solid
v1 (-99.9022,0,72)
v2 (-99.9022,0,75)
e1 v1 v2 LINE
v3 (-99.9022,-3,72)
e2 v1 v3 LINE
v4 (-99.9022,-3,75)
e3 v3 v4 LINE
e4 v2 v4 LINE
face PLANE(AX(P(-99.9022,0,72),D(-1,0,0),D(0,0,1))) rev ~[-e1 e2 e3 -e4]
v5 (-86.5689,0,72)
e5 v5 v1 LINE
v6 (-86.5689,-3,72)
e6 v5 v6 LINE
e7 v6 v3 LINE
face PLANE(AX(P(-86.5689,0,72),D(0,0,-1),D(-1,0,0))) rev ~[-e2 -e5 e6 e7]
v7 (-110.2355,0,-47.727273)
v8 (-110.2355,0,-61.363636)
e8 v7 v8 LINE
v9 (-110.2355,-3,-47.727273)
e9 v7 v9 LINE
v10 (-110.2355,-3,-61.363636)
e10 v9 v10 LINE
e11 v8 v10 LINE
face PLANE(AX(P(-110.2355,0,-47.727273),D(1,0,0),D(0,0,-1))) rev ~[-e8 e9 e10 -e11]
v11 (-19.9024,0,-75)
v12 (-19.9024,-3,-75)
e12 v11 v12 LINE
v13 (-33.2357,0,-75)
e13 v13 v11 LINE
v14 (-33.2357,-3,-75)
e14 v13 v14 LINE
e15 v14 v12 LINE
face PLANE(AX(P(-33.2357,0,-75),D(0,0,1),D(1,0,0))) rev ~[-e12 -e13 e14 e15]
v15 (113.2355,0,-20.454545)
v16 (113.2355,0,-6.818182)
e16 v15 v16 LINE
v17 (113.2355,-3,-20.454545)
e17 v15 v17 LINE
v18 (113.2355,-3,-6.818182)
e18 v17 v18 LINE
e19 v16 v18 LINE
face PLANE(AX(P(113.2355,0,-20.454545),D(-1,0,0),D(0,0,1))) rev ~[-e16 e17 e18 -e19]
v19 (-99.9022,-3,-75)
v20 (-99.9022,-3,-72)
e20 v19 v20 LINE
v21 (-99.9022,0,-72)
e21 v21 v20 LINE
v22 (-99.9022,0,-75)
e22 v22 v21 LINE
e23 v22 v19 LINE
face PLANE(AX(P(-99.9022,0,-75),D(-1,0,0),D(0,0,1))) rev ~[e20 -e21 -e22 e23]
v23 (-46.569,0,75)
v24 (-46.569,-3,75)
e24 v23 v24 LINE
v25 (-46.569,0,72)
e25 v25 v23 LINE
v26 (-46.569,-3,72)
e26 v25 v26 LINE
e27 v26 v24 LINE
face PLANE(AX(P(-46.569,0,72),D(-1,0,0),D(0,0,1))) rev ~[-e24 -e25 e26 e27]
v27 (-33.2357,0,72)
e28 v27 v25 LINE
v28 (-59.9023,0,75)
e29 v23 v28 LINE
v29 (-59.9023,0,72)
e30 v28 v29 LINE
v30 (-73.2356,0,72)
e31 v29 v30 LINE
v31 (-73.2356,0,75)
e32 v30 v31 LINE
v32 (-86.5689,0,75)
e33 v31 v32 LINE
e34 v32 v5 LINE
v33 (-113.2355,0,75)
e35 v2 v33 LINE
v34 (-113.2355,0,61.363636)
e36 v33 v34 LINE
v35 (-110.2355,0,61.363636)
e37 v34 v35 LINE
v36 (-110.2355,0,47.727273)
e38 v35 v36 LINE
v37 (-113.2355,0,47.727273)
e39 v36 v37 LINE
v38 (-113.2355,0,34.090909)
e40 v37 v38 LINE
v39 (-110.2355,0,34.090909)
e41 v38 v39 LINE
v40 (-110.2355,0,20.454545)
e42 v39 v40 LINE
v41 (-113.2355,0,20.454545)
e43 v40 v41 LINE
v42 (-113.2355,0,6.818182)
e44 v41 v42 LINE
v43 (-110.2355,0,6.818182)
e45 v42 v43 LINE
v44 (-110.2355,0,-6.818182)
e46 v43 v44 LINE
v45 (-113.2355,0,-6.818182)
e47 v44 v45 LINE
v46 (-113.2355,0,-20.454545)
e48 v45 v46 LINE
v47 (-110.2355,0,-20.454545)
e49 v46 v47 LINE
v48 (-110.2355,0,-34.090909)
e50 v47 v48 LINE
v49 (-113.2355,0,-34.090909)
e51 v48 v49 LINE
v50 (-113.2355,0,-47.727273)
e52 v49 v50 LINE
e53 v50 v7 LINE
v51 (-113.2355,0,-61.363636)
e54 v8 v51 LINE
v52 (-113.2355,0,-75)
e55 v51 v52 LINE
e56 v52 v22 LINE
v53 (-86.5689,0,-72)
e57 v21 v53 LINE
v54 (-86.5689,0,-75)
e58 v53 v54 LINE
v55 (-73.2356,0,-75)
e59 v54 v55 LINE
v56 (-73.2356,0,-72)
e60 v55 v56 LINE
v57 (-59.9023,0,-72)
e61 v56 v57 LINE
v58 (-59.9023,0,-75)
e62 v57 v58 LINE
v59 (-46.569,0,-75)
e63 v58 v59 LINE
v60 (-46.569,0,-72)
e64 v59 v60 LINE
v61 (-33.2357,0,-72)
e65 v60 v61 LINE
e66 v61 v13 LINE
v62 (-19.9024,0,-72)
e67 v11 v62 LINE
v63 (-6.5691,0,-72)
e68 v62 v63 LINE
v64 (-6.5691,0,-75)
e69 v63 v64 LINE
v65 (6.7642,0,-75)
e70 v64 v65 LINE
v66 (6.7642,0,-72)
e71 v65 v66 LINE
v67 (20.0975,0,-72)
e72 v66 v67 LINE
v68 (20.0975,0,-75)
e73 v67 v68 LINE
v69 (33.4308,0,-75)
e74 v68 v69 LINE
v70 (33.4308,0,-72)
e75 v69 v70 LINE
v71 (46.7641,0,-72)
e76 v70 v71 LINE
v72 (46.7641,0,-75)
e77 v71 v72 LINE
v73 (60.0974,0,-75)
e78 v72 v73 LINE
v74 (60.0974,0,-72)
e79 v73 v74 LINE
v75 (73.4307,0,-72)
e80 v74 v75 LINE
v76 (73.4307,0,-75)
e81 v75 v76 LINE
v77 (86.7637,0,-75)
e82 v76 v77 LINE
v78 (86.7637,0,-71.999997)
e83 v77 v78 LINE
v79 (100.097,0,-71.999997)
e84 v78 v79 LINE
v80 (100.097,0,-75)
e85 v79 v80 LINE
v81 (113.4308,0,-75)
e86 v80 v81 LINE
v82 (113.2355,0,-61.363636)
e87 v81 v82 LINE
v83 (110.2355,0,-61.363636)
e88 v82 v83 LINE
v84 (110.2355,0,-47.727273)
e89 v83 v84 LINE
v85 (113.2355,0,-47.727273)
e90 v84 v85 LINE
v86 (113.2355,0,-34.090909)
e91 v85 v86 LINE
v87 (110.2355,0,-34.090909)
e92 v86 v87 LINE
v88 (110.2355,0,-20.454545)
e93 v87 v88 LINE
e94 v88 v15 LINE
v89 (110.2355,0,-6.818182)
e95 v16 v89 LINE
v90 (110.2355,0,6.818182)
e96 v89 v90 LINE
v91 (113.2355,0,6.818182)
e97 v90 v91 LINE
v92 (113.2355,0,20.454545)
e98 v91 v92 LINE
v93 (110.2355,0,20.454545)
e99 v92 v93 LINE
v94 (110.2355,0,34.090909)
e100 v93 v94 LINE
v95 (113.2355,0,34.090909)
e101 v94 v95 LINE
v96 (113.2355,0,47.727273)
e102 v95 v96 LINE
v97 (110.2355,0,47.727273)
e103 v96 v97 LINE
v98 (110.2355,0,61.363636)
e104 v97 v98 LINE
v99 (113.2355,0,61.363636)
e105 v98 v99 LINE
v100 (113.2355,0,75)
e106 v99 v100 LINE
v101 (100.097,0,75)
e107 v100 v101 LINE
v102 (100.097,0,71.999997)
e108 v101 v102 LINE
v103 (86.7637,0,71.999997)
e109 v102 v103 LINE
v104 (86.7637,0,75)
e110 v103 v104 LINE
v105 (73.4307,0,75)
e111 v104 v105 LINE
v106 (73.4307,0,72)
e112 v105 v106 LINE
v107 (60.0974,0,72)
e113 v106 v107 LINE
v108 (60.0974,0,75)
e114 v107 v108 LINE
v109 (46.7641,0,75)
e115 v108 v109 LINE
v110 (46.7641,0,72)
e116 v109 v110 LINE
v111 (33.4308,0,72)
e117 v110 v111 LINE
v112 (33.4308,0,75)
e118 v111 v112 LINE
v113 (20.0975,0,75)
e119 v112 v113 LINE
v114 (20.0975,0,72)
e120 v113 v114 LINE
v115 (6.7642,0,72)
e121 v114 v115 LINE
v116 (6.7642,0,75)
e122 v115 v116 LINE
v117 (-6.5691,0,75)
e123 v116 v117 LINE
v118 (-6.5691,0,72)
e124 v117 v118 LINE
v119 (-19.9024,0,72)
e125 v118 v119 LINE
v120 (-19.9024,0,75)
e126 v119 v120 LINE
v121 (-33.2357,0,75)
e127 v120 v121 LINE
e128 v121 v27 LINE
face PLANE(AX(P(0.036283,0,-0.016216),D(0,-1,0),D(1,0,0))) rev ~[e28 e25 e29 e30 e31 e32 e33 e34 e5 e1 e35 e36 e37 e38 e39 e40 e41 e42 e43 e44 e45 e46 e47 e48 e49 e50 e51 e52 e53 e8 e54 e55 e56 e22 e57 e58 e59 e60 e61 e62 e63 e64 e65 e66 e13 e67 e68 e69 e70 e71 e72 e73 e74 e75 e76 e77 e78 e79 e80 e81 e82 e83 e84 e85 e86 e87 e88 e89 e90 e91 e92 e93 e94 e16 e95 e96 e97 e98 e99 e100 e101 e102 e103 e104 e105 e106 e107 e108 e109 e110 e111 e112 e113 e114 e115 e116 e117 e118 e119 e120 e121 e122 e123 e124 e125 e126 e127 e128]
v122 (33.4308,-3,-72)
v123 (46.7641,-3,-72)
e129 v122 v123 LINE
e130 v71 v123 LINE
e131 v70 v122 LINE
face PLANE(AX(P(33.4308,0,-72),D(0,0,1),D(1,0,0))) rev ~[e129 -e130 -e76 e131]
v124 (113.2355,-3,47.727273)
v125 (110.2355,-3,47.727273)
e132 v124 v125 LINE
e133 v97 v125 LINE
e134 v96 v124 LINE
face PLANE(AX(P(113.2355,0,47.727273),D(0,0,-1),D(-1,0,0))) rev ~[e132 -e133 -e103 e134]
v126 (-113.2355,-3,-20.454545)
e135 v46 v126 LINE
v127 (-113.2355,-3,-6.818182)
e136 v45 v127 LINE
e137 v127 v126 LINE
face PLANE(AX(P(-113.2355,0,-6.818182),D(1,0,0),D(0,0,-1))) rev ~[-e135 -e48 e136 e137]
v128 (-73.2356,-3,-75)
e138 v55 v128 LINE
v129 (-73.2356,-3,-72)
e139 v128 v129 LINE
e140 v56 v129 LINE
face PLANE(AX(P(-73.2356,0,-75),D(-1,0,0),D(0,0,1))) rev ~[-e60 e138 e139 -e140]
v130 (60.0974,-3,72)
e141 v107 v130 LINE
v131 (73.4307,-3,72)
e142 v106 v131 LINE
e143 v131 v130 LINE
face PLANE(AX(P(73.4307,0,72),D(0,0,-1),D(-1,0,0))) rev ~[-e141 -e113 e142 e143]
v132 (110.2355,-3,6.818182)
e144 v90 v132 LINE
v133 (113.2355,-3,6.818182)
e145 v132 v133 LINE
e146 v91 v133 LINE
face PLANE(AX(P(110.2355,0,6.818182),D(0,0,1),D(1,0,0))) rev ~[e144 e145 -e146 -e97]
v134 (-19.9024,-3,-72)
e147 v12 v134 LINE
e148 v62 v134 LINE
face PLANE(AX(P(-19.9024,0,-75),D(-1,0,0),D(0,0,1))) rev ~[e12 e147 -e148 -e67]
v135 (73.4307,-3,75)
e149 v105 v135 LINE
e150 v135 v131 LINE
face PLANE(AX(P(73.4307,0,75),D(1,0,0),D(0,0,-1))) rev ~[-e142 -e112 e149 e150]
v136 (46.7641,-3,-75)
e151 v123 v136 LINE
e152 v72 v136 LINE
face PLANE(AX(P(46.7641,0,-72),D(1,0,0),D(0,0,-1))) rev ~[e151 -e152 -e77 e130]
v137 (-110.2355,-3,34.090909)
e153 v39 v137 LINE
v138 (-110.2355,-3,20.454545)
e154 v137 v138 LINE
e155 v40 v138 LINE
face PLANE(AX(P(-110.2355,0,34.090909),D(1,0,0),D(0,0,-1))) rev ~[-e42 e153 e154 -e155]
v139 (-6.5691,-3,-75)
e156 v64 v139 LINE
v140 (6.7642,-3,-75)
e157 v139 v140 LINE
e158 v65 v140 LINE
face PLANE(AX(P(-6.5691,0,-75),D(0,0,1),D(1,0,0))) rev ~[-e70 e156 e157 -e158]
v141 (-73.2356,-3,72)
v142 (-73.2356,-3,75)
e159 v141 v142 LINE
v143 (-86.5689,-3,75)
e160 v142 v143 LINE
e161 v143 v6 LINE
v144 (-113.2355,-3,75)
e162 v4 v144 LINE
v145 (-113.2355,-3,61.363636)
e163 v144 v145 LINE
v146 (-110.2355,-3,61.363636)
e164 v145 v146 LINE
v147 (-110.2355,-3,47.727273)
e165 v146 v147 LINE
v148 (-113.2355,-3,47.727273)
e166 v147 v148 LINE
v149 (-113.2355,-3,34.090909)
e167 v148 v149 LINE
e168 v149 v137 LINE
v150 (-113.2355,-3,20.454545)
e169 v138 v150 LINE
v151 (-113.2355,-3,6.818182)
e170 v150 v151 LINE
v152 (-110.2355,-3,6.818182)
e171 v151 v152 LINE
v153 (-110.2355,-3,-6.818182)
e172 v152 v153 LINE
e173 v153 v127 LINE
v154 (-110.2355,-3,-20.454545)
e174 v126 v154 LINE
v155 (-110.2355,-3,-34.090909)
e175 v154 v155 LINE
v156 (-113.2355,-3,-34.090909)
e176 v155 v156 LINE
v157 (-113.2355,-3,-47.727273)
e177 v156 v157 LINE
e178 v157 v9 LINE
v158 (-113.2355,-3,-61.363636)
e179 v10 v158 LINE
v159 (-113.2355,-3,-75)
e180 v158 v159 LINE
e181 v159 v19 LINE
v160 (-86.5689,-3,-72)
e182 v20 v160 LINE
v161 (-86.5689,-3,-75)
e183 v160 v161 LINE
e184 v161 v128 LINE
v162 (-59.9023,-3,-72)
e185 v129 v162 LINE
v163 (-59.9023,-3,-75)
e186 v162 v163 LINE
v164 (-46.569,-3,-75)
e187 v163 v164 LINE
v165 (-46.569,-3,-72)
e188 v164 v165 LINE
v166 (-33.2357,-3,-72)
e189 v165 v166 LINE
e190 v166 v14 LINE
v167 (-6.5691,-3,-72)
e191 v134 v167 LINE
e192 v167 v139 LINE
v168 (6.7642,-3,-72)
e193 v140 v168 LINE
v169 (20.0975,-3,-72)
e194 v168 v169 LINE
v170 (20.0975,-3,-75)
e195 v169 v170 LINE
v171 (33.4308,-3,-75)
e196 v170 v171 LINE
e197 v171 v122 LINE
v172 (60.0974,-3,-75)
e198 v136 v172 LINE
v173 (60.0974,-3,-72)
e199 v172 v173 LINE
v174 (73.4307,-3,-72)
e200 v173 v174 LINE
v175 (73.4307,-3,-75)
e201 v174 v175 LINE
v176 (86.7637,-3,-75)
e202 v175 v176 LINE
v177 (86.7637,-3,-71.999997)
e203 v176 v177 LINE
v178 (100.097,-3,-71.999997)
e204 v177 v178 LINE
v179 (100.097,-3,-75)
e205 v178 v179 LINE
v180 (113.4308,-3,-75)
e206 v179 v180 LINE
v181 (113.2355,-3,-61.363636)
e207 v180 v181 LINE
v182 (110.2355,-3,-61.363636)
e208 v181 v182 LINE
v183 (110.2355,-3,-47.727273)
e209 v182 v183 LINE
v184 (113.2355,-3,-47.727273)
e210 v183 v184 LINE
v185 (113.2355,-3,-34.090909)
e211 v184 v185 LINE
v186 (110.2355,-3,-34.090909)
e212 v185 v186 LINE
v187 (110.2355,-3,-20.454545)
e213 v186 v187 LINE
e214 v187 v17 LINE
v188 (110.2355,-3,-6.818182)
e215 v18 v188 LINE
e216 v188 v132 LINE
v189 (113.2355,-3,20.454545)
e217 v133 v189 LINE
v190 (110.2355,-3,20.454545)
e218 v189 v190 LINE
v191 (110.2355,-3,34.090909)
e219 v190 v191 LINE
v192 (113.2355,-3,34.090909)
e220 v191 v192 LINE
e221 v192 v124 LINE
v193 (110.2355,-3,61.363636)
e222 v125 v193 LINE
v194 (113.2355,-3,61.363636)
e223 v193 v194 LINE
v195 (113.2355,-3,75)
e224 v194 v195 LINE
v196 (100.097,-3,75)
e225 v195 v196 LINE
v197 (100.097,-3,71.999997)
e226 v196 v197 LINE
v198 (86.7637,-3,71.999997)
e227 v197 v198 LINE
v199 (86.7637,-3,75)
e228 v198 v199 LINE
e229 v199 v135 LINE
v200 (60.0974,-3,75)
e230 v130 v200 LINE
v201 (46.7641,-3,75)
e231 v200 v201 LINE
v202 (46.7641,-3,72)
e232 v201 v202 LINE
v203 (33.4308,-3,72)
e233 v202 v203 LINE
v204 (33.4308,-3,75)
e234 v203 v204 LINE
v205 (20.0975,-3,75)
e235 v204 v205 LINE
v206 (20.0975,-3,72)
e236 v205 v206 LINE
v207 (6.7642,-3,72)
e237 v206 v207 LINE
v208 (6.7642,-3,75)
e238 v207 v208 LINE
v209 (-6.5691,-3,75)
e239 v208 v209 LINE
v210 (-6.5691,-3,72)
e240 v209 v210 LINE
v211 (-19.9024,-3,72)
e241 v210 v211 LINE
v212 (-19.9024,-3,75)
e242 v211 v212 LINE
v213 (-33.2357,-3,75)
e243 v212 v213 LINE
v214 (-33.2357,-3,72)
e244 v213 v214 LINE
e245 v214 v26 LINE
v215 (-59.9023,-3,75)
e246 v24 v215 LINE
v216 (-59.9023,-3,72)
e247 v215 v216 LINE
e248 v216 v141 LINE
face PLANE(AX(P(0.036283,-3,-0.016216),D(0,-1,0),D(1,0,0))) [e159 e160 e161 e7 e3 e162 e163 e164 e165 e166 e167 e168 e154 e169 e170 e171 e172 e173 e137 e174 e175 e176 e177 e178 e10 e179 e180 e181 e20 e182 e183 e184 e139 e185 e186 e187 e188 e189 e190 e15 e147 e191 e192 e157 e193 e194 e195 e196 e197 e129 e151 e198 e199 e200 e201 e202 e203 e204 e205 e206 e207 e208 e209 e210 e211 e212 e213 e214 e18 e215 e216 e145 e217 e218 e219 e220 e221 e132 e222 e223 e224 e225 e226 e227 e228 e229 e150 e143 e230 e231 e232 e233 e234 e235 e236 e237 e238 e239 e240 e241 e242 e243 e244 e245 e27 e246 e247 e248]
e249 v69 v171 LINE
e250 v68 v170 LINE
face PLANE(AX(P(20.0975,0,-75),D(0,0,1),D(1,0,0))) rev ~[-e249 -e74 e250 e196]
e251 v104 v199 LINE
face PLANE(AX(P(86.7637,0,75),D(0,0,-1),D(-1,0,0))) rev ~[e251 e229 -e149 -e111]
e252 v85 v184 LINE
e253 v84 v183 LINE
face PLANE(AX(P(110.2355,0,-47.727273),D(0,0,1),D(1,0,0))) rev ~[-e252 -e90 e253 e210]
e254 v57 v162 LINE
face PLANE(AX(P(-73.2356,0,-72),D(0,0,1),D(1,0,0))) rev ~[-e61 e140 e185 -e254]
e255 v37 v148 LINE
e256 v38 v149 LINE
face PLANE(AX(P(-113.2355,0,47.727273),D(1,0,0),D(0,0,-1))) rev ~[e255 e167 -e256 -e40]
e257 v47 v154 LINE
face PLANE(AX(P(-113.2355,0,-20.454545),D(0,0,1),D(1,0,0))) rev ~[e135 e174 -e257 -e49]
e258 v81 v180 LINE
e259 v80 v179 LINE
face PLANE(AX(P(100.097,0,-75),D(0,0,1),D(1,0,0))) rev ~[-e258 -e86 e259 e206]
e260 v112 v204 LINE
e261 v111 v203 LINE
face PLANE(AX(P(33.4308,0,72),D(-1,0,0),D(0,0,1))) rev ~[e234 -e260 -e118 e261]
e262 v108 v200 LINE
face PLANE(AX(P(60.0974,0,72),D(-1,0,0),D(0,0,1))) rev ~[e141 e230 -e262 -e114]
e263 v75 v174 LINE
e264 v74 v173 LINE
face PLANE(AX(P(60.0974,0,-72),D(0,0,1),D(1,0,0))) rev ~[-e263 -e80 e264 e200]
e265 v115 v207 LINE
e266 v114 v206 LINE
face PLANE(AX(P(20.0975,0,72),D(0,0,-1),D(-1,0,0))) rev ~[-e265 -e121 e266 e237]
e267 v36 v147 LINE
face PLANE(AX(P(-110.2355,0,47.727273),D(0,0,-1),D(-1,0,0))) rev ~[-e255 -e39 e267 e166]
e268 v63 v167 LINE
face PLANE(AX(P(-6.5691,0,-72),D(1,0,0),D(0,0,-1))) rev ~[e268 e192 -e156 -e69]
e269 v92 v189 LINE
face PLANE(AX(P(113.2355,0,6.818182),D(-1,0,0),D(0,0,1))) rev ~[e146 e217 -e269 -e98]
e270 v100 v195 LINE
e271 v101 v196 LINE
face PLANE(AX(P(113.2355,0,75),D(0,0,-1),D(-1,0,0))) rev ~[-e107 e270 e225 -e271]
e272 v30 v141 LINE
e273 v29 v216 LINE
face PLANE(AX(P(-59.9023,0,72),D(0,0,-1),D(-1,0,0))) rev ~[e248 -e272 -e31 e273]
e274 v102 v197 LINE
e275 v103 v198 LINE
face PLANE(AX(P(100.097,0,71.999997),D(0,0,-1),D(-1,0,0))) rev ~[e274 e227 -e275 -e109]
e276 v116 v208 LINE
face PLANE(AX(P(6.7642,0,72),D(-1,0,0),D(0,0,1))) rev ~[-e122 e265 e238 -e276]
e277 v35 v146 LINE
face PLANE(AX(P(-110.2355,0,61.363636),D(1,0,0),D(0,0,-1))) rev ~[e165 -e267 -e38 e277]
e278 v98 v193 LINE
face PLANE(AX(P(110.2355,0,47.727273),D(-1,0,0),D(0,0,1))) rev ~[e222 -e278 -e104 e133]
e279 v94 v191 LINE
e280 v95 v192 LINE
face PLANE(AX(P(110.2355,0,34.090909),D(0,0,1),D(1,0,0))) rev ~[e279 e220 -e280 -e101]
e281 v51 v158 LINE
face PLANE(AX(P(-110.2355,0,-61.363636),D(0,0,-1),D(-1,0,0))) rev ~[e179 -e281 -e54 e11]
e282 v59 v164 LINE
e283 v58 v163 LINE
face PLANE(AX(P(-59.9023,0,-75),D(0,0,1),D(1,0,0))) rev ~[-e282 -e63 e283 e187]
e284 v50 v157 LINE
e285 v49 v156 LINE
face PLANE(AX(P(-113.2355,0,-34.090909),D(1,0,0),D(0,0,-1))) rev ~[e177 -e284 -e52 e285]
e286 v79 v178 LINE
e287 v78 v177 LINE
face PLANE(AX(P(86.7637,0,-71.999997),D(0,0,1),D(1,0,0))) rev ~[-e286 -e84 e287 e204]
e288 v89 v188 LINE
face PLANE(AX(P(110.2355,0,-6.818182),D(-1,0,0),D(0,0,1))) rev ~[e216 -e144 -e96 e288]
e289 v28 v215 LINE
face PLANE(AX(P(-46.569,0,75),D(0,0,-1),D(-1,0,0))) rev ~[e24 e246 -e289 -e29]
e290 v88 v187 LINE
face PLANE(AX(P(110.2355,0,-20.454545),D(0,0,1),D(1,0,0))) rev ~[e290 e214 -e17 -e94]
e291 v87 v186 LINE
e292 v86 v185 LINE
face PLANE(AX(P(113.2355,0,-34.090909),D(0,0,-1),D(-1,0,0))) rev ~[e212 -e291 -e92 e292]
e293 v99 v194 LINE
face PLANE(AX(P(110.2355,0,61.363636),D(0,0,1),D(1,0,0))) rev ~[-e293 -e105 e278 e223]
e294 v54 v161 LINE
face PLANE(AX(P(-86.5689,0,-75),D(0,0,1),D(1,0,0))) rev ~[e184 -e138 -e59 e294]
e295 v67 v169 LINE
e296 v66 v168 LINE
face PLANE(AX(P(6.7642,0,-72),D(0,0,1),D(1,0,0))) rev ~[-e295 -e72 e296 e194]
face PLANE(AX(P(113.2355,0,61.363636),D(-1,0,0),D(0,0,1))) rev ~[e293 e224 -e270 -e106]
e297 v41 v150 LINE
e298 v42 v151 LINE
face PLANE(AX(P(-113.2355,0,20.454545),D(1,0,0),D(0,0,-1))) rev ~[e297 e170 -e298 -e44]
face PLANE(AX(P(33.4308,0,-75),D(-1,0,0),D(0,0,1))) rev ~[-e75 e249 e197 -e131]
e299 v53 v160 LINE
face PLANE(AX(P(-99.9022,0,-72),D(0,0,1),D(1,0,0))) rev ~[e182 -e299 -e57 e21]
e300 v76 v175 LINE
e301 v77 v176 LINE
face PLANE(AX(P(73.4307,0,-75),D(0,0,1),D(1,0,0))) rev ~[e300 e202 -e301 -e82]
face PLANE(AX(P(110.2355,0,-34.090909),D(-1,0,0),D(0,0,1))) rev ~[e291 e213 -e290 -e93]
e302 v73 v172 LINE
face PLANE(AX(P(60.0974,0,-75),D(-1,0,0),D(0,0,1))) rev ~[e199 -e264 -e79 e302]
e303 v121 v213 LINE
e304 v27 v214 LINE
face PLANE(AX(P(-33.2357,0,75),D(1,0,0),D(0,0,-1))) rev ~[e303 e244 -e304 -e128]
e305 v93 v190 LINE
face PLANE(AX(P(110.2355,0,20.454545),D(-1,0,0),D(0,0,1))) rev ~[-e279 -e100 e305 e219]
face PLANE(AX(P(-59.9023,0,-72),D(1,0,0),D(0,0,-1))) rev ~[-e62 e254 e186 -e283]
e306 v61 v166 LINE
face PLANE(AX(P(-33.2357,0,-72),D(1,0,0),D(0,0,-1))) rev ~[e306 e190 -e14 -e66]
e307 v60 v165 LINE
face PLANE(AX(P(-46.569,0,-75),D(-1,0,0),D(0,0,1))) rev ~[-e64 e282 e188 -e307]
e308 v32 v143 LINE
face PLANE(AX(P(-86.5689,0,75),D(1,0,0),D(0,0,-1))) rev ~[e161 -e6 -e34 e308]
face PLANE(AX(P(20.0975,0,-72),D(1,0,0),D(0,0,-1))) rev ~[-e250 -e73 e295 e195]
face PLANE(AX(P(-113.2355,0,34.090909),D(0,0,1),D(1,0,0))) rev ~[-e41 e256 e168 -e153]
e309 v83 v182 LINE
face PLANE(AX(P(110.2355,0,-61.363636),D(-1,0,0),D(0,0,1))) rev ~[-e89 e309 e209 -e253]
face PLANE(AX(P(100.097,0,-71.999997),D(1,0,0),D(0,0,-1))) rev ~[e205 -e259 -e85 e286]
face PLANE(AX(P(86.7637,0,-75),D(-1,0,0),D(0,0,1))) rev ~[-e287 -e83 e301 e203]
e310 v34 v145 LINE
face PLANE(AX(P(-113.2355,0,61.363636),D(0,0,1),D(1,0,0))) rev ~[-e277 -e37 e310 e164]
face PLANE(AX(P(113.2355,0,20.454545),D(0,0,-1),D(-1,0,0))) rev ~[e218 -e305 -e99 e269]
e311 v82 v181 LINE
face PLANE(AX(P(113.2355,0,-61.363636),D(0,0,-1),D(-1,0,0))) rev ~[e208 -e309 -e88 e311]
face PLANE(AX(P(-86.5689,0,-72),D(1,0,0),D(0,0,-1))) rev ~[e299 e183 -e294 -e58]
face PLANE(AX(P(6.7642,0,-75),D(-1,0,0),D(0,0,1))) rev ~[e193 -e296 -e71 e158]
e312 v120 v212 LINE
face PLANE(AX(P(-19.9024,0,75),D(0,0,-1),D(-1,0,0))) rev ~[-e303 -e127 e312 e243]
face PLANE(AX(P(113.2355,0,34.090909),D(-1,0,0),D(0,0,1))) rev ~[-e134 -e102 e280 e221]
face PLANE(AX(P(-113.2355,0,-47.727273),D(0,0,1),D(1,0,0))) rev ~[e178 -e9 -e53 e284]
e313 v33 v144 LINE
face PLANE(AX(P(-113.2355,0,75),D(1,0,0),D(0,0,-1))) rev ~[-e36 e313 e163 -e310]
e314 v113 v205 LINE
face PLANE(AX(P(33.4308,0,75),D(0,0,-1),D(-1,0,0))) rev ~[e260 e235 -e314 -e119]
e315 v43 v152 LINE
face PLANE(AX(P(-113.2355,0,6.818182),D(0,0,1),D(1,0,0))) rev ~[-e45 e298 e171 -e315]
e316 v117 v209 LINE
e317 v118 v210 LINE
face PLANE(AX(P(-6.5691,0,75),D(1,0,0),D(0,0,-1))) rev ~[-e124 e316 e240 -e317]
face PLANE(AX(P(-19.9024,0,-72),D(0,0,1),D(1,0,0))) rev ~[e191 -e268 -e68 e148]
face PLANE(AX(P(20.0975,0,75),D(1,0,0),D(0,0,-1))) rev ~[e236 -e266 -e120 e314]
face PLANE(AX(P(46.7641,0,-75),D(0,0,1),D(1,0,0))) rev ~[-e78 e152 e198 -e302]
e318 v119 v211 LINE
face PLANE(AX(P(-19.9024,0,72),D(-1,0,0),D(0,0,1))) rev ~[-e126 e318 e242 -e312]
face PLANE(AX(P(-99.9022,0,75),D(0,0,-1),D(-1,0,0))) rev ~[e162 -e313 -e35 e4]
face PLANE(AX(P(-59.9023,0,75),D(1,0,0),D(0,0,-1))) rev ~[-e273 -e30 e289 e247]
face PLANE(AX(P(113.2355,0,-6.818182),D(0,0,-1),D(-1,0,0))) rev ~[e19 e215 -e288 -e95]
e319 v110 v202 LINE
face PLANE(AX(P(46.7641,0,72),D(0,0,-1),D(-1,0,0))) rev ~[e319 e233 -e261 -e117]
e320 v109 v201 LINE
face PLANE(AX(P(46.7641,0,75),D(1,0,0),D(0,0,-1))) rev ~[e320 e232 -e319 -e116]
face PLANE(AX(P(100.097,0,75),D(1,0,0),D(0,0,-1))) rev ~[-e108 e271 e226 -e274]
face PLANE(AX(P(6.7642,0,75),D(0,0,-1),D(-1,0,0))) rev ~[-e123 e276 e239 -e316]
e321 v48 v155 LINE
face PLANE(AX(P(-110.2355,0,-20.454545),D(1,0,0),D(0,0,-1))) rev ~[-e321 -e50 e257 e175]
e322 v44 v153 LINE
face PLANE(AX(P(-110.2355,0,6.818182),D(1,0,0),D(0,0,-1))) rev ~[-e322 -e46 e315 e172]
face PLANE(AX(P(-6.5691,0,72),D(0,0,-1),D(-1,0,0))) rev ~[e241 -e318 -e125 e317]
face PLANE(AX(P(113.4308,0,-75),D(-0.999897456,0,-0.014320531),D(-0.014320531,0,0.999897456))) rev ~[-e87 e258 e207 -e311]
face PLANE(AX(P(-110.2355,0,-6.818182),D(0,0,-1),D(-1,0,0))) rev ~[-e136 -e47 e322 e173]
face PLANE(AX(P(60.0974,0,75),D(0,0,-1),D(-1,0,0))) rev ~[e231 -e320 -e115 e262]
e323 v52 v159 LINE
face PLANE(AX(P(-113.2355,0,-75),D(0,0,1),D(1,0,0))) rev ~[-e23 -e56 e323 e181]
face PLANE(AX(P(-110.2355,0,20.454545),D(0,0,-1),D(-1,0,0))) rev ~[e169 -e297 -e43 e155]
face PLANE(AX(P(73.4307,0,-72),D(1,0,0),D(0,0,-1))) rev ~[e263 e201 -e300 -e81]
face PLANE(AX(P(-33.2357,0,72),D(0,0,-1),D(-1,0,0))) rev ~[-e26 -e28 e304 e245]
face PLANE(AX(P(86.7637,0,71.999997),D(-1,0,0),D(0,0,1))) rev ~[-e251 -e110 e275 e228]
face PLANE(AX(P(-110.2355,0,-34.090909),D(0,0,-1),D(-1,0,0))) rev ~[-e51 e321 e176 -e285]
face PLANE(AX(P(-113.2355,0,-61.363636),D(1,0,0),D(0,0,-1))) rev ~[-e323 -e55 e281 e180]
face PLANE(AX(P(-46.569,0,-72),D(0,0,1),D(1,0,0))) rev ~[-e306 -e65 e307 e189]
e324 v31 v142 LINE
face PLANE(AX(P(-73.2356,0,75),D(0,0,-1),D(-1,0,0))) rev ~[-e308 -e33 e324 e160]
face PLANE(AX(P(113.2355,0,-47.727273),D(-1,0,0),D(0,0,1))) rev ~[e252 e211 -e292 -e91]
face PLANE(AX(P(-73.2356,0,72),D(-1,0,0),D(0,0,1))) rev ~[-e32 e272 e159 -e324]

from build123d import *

# Parameters (mm, degrees)
F1_DEPTH = 3


with BuildPart() as f1:
    # F0 (on Front) → F1 (new body)
    with BuildSketch(Plane.XZ):
        Polygon((113.2355, 61.363636), (113.2355, 75), (100.097, 75), (100.097, 71.999997), (86.7637, 71.999997), (86.7637, 75), (73.4307, 75), (73.4307, 72), (60.0974, 72), (60.0974, 75), (46.7641, 75), (46.7641, 72), (33.4308, 72), (33.4308, 75), (20.0975, 75), (20.0975, 72), (6.7642, 72), (6.7642, 75), (-6.5691, 75), (-6.5691, 72), (-19.9024, 72), (-19.9024, 75), (-33.2357, 75), (-33.2357, 72), (-46.569, 72), (-46.569, 75), (-59.9023, 75), (-59.9023, 72), (-73.2356, 72), (-73.2356, 75), (-86.5689, 75), (-86.5689, 72), (-99.9022, 72), (-99.9022, 75), (-113.2355, 75), (-113.2355, 61.363636), (-110.2355, 61.363636), (-110.2355, 47.727273), (-113.2355, 47.727273), (-113.2355, 34.090909), (-110.2355, 34.090909), (-110.2355, 20.454545), (-113.2355, 20.454545), (-113.2355, 6.818182), (-110.2355, 6.818182), (-110.2355, -6.818182), (-113.2355, -6.818182), (-113.2355, -20.454545), (-110.2355, -20.454545), (-110.2355, -34.090909), (-113.2355, -34.090909), (-113.2355, -47.727273), (-110.2355, -47.727273), (-110.2355, -61.363636), (-113.2355, -61.363636), (-113.2355, -75), (-99.9022, -75), (-99.9022, -72), (-86.5689, -72), (-86.5689, -75), (-73.2356, -75), (-73.2356, -72), (-59.9023, -72), (-59.9023, -75), (-46.569, -75), (-46.569, -72), (-33.2357, -72), (-33.2357, -75), (-19.9024, -75), (-19.9024, -72), (-6.5691, -72), (-6.5691, -75), (6.7642, -75), (6.7642, -72), (20.0975, -72), (20.0975, -75), (33.4308, -75), (33.4308, -72), (46.7641, -72), (46.7641, -75), (60.0974, -75), (60.0974, -72), (73.4307, -72), (73.4307, -75), (86.7637, -75), (86.7637, -71.999997), (100.097, -71.999997), (100.097, -75), (113.2355, -75), (113.4308, -75), (113.2355, -61.363636), (110.2355, -61.363636), (110.2355, -47.727273), (113.2355, -47.727273), (113.2355, -34.090909), (110.2355, -34.090909), (110.2355, -20.454545), (113.2355, -20.454545), (113.2355, -6.818182), (110.2355, -6.818182), (110.2355, 6.818182), (113.2355, 6.818182), (113.2355, 20.454545), (110.2355, 20.454545), (110.2355, 34.090909), (113.2355, 34.090909), (113.2355, 47.727273), (110.2355, 47.727273), (110.2355, 61.363636), align=None)
    extrude(amount=F1_DEPTH)


solid = f1.part
